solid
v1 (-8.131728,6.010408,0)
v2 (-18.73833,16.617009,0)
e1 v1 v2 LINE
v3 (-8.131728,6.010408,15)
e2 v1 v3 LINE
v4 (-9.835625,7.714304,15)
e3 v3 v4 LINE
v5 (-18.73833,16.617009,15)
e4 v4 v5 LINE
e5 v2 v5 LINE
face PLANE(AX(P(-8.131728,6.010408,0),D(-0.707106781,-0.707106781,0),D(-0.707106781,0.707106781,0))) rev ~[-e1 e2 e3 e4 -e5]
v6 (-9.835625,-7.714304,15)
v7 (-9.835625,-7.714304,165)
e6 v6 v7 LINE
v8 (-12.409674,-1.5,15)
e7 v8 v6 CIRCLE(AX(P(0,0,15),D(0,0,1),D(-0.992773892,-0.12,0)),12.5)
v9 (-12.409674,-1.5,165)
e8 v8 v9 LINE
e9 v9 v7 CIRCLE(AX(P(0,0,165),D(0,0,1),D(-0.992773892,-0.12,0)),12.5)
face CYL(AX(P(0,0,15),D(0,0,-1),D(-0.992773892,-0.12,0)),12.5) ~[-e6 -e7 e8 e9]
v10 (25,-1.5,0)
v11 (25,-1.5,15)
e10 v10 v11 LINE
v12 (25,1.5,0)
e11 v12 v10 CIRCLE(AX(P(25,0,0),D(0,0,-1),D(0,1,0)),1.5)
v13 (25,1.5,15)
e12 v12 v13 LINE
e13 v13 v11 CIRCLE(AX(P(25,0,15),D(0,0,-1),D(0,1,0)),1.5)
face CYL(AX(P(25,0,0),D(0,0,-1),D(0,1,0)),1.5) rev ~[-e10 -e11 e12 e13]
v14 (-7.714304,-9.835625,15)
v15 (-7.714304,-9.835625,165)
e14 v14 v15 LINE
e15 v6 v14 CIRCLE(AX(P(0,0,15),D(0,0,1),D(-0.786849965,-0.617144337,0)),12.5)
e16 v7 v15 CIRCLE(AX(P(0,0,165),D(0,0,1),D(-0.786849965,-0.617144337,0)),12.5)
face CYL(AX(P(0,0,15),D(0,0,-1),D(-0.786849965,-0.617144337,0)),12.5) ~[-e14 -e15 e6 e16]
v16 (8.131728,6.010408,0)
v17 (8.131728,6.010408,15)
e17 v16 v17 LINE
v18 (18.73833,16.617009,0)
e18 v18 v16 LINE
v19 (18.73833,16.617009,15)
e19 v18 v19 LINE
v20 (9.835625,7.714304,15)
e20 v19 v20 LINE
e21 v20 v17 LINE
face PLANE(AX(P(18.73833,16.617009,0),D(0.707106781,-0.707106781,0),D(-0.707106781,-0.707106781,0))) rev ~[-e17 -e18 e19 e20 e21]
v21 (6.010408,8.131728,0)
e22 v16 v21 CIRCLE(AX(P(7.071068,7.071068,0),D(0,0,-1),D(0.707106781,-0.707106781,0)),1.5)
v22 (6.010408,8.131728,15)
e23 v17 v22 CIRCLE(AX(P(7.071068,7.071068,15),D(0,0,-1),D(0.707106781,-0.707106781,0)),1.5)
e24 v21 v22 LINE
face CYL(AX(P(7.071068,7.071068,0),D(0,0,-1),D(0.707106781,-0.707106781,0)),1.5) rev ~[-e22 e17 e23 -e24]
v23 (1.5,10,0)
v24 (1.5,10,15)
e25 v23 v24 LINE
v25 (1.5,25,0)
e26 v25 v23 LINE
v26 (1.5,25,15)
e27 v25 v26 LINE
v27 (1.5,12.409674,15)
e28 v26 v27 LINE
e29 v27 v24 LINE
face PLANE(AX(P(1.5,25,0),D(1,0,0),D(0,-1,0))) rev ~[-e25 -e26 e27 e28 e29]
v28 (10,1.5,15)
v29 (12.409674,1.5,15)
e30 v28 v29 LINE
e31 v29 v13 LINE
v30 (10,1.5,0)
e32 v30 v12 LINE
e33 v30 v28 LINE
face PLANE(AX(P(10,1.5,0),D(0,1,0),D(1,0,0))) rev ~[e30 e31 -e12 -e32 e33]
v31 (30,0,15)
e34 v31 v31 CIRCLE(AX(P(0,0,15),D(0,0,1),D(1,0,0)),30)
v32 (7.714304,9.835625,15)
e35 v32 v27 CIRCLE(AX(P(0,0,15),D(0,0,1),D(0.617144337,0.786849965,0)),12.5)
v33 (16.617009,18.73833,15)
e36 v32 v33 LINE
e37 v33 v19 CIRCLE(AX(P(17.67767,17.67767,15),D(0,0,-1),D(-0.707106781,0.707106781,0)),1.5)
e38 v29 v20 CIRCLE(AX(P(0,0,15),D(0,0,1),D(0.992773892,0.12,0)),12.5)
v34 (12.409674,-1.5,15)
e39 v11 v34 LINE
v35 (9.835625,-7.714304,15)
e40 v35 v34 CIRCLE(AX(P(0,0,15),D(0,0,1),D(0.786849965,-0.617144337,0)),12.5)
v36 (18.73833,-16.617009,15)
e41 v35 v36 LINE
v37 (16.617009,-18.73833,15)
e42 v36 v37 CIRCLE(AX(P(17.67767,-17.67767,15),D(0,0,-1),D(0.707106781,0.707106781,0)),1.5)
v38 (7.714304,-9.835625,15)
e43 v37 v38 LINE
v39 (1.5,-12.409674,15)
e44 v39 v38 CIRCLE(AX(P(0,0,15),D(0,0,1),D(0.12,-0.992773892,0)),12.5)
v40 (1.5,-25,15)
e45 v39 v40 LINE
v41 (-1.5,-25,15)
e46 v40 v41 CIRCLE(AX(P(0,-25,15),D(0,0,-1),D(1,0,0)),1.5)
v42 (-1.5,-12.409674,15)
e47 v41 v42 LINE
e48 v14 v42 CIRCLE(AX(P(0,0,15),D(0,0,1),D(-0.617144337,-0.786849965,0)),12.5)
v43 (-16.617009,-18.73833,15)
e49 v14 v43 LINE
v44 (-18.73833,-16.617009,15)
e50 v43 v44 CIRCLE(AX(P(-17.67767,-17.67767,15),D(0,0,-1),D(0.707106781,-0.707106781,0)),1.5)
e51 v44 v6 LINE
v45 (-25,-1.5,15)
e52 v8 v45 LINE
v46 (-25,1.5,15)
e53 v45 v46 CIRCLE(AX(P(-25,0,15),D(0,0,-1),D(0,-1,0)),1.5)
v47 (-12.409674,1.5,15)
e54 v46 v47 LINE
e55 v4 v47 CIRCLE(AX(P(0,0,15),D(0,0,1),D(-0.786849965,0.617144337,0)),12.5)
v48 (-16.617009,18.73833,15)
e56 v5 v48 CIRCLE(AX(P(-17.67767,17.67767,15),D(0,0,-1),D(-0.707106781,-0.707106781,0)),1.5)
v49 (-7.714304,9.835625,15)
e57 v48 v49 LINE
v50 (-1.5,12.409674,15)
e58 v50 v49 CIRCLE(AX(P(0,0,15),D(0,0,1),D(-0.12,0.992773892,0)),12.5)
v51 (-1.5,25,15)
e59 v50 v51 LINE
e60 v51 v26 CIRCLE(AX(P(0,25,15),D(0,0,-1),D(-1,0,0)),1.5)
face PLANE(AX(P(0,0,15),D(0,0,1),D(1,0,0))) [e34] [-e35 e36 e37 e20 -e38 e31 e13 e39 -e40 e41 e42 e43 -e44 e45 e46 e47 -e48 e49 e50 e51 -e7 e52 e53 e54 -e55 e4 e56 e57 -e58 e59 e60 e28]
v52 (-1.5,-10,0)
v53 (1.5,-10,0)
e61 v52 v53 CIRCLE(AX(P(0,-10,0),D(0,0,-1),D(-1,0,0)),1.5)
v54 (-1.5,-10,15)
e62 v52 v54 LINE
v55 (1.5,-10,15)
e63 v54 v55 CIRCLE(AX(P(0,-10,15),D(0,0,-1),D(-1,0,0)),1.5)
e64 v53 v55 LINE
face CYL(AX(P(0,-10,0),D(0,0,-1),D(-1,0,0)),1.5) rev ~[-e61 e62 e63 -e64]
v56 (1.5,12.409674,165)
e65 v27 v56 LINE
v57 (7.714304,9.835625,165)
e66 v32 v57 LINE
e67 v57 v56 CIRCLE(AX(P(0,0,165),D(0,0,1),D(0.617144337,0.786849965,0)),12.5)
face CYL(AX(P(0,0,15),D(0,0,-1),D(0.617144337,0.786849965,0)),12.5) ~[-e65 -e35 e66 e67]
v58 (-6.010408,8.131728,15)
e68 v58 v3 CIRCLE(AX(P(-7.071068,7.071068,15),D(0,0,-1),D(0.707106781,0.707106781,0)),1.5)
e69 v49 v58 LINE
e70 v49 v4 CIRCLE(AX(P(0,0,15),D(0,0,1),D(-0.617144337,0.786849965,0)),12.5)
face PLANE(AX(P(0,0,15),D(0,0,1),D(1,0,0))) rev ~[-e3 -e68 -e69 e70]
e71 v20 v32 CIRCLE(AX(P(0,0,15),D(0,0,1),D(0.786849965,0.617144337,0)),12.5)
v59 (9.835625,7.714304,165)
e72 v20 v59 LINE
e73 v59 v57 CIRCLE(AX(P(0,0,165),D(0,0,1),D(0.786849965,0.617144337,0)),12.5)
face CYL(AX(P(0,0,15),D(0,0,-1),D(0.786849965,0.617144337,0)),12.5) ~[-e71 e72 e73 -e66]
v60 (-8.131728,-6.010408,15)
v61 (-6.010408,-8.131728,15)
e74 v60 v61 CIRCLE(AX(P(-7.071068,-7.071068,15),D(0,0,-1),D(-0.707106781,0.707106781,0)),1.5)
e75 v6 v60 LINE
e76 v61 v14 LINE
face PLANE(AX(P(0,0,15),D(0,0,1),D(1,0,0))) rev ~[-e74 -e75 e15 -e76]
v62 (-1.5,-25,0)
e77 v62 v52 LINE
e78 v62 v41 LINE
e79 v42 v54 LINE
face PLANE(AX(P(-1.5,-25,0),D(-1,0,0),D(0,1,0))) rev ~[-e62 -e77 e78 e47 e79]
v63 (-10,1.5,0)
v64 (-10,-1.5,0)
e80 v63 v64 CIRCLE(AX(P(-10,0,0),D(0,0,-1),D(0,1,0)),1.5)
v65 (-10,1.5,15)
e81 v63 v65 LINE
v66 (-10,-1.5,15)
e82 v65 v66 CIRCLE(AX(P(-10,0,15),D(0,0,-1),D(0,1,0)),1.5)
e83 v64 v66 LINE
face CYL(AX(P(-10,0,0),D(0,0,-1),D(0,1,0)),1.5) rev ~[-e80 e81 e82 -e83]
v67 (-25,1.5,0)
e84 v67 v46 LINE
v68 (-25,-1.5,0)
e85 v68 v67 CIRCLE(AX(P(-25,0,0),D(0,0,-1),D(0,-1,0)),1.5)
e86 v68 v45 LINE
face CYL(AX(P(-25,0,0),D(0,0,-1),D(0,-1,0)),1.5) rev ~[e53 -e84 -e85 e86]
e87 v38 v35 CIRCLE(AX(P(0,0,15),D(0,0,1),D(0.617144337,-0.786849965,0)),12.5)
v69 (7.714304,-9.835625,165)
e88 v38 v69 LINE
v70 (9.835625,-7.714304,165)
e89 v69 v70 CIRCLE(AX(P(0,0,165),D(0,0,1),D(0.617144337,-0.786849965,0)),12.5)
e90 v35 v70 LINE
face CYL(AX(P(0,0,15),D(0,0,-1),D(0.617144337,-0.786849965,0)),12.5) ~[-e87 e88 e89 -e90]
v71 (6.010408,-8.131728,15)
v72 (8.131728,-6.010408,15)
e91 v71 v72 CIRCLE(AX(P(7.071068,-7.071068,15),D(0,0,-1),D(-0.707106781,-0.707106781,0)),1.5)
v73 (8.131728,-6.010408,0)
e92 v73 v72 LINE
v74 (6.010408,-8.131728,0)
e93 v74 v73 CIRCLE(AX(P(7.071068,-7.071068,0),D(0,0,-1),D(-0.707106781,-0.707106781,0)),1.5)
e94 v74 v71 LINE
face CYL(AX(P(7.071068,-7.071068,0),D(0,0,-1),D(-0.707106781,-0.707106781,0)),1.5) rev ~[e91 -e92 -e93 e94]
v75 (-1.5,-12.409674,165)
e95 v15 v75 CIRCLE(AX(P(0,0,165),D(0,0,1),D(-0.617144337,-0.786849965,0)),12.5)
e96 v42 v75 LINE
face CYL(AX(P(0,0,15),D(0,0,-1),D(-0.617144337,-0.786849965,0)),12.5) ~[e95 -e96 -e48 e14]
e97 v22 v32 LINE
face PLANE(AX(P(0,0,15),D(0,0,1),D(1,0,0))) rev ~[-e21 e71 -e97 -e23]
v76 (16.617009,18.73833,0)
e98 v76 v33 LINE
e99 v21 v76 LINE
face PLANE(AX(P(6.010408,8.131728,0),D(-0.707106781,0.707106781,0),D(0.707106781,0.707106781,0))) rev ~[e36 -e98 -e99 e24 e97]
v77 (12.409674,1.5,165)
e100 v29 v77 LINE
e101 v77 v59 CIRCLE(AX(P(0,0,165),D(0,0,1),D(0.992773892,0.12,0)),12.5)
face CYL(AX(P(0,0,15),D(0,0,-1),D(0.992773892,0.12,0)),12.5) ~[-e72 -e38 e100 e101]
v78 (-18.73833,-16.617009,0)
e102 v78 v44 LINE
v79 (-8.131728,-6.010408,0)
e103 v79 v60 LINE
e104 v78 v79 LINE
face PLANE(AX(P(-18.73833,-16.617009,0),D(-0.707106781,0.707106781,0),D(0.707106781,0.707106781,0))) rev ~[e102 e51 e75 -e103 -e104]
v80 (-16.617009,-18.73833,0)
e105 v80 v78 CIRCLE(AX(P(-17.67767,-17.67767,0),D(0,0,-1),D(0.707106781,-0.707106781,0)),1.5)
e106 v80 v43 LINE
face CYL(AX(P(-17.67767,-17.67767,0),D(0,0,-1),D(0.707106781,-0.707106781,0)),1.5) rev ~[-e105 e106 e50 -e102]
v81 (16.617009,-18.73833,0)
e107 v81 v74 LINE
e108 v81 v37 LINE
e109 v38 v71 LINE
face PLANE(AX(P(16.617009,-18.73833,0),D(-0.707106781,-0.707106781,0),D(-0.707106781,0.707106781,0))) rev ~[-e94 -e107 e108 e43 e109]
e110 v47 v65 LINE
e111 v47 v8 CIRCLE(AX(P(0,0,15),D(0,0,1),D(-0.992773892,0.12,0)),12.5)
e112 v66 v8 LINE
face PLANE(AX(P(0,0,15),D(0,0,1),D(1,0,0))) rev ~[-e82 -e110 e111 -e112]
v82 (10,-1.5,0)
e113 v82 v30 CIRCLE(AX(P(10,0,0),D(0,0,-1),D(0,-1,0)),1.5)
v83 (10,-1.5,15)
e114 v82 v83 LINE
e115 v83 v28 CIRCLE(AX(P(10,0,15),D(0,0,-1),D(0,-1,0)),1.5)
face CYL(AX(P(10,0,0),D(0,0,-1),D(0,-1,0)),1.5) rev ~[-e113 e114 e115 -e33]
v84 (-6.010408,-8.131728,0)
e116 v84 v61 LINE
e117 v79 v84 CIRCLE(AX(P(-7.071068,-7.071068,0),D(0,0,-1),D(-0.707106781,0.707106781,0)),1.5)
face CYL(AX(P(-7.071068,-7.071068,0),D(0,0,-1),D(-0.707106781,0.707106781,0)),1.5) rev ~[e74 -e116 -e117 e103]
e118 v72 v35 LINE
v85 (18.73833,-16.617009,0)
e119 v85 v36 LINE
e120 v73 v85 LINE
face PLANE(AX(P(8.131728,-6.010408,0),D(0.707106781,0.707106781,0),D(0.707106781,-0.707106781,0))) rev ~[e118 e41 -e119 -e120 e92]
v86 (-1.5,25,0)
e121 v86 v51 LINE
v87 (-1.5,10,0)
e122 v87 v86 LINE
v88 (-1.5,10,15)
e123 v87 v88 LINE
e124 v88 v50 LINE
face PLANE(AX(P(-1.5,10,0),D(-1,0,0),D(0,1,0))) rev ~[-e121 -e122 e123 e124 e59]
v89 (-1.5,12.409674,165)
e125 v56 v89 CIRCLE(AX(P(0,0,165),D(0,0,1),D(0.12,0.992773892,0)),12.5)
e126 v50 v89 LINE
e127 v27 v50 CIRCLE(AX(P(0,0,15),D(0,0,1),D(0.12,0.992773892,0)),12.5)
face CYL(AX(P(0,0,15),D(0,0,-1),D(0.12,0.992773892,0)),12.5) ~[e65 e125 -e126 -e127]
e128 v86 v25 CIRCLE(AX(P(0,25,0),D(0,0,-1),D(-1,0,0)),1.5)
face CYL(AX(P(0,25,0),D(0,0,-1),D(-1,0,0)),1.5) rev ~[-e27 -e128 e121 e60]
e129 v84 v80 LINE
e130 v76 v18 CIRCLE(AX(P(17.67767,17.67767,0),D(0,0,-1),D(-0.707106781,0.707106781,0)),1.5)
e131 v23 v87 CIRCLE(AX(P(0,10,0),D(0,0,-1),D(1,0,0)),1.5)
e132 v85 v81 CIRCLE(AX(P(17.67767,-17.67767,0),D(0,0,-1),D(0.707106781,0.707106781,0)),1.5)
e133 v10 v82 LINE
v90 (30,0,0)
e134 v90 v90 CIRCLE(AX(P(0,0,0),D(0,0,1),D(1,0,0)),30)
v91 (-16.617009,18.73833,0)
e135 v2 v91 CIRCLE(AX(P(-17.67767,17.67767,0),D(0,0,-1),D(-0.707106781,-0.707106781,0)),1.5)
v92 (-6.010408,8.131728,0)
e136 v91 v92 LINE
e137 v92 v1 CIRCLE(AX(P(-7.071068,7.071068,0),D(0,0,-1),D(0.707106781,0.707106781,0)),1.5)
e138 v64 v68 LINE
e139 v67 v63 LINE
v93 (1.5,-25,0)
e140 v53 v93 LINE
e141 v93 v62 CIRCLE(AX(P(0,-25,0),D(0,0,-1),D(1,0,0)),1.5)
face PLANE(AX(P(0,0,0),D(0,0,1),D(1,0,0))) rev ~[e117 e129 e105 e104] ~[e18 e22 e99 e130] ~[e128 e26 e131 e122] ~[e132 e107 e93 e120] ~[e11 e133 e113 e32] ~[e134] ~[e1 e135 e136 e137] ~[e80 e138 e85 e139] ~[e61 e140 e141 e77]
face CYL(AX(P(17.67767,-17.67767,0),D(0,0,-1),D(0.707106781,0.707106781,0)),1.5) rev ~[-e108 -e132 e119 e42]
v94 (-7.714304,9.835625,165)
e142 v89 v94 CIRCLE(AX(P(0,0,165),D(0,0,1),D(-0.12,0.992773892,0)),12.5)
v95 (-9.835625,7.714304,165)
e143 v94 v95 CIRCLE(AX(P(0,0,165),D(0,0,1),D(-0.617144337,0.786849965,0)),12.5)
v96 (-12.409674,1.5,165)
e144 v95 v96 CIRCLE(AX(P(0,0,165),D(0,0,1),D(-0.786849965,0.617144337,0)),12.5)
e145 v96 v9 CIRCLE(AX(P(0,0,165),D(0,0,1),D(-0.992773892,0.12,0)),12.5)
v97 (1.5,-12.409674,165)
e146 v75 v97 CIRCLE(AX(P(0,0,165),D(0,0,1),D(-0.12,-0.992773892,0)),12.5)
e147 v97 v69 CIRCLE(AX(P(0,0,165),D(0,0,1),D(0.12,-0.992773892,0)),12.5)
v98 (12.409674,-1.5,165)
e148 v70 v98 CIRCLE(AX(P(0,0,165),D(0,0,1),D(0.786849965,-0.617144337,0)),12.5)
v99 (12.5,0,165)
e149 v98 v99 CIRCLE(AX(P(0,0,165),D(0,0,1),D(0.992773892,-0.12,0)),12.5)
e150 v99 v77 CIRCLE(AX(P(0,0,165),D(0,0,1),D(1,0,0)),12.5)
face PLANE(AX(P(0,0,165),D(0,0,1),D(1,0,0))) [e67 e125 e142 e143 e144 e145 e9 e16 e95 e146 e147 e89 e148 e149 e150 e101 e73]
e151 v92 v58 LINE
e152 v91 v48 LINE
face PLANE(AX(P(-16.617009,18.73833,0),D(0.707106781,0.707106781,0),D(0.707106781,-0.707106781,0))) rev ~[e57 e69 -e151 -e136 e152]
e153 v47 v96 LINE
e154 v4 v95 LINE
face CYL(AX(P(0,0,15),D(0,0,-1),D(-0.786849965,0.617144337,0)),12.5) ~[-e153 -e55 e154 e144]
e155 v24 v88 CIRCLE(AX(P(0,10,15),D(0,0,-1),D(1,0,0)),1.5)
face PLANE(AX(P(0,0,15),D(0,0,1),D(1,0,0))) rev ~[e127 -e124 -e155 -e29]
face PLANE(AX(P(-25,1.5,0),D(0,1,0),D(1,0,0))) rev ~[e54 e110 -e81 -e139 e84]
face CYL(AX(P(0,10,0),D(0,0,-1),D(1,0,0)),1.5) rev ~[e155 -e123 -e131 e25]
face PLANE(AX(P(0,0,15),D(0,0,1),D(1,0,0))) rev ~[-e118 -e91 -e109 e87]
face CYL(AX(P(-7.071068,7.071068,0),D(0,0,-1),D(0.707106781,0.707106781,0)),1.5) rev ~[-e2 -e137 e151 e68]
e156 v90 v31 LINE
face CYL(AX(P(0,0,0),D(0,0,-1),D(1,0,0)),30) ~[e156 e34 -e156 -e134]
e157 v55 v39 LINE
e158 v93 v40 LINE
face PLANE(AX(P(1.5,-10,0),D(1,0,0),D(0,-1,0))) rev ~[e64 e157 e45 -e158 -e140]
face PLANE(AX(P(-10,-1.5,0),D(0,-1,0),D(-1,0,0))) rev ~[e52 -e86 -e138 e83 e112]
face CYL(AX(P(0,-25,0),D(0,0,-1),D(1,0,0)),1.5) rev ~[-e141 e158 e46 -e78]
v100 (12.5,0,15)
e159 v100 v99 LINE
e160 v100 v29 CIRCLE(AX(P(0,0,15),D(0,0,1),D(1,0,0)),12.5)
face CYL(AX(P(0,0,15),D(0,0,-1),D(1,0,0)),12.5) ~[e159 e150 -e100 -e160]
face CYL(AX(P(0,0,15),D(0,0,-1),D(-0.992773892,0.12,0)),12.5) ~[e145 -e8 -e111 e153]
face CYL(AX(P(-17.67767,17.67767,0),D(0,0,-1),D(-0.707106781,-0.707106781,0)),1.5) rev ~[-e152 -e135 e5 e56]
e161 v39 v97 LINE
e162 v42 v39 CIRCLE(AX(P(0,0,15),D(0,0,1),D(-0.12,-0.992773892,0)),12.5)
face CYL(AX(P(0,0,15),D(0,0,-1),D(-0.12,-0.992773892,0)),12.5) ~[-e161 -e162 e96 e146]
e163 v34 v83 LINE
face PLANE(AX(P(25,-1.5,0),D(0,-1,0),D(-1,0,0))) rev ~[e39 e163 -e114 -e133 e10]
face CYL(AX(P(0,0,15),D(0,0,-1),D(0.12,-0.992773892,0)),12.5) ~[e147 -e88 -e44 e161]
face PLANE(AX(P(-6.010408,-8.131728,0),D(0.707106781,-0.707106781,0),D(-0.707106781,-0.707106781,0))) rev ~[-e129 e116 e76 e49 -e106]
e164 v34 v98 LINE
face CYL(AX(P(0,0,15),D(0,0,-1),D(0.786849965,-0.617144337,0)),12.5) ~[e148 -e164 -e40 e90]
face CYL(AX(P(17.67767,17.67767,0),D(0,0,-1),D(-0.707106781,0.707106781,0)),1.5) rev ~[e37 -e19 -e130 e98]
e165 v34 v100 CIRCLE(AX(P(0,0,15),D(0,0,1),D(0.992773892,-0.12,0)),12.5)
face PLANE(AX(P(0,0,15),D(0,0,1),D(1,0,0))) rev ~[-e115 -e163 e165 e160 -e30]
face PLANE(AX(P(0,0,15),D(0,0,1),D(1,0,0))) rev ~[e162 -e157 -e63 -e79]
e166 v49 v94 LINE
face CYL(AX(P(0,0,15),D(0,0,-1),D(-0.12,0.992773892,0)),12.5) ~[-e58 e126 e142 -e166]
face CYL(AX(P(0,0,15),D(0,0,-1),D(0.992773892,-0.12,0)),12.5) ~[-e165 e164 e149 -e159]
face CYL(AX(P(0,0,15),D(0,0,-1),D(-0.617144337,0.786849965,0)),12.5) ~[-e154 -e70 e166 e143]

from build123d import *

# Parameters (mm, degrees)
F0_R     = 30
F1_DEPTH = 15
F3_DEPTH = 150


with BuildPart() as f1:
    # F0 (on Top) → F1 (new body)
    with BuildSketch(Plane.XY):
        Circle(F0_R)
        with BuildLine():
            ThreePointArc((-16.6170093579, -18.7383297014), (-18.7383297014, -18.7383297014), (-18.7383297014, -16.6170093579))
            Line((-18.7383297014, -16.6170093579), (-8.1317279836, -6.0104076401))
            ThreePointArc((-8.1317279836, -6.0104076401), (-6.0104076401, -6.0104076401), (-6.0104076401, -8.1317279836))
            Line((-6.0104076401, -8.1317279836), (-16.6170093579, -18.7383297014))
        make_face(mode=Mode.SUBTRACT)
        with BuildLine():
            ThreePointArc((1.5, -25), (0, -26.5), (-1.5, -25))
            Line((-1.5, -25), (-1.5, -10))
            ThreePointArc((-1.5, -10), (0, -8.5), (1.5, -10))
            Line((1.5, -10), (1.5, -25))
        make_face(mode=Mode.SUBTRACT)
        with BuildLine():
            ThreePointArc((18.7383297014, -16.6170093579), (18.7383297014, -18.7383297014), (16.6170093579, -18.7383297014))
            Line((16.6170093579, -18.7383297014), (6.0104076401, -8.1317279836))
            ThreePointArc((6.0104076401, -8.1317279836), (6.0104076401, -6.0104076401), (8.1317279836, -6.0104076401))
            Line((8.1317279836, -6.0104076401), (18.7383297014, -16.6170093579))
        make_face(mode=Mode.SUBTRACT)
        with BuildLine():
            ThreePointArc((-25, -1.5), (-26.5, 0), (-25, 1.5))
            Line((-25, 1.5), (-10, 1.5))
            ThreePointArc((-10, 1.5), (-8.5, 0), (-10, -1.5))
            Line((-10, -1.5), (-25, -1.5))
        make_face(mode=Mode.SUBTRACT)
        with BuildLine():
            ThreePointArc((-18.7383297014, 16.6170093579), (-18.7383297014, 18.7383297014), (-16.6170093579, 18.7383297014))
            Line((-16.6170093579, 18.7383297014), (-6.0104076401, 8.1317279836))
            ThreePointArc((-6.0104076401, 8.1317279836), (-6.0104076401, 6.0104076401), (-8.1317279836, 6.0104076401))
            Line((-8.1317279836, 6.0104076401), (-18.7383297014, 16.6170093579))
        make_face(mode=Mode.SUBTRACT)
        with BuildLine():
            ThreePointArc((16.6170093579, 18.7383297014), (18.7383297014, 18.7383297014), (18.7383297014, 16.6170093579))
            Line((18.7383297014, 16.6170093579), (8.1317279836, 6.0104076401))
            ThreePointArc((8.1317279836, 6.0104076401), (6.0104076401, 6.0104076401), (6.0104076401, 8.1317279836))
            Line((6.0104076401, 8.1317279836), (16.6170093579, 18.7383297014))
        make_face(mode=Mode.SUBTRACT)
        with BuildLine():
            ThreePointArc((25, 1.5), (26.5, 0), (25, -1.5))
            Line((25, -1.5), (10, -1.5))
            ThreePointArc((10, -1.5), (8.5, 0), (10, 1.5))
            Line((10, 1.5), (25, 1.5))
        make_face(mode=Mode.SUBTRACT)
        with BuildLine():
            ThreePointArc((-1.5, 25), (0, 26.5), (1.5, 25))
            Line((1.5, 25), (1.5, 10))
            ThreePointArc((1.5, 10), (0, 8.5), (-1.5, 10))
            Line((-1.5, 10), (-1.5, 25))
        make_face(mode=Mode.SUBTRACT)
    extrude(amount=F1_DEPTH)

    # F2 (on face) → F3 (join)
    with BuildSketch(Plane.XY.offset(15)):
        with BuildLine():
            Line((10, 1.5), (12.409673646, 1.5))
            ThreePointArc((12.409673646, 1.5), (11.5484941564, 4.7835429046), (9.8356245592, 7.7143042156))
            Line((9.8356245592, 7.7143042156), (8.1317279836, 6.0104076401))
            ThreePointArc((8.1317279836, 6.0104076401), (6.0104076401, 6.0104076401), (6.0104076401, 8.1317279836))
            Line((6.0104076401, 8.1317279836), (7.7143042156, 9.8356245592))
            ThreePointArc((7.7143042156, 9.8356245592), (4.7835429046, 11.5484941564), (1.5, 12.409673646))
            Line((1.5, 12.409673646), (1.5, 10))
            ThreePointArc((1.5, 10), (0, 8.5), (-1.5, 10))
            Line((-1.5, 10), (-1.5, 12.409673646))
            ThreePointArc((-1.5, 12.409673646), (-4.7835429046, 11.5484941564), (-7.7143042156, 9.8356245592))
            Line((-7.7143042156, 9.8356245592), (-6.0104076401, 8.1317279836))
            ThreePointArc((-6.0104076401, 8.1317279836), (-6.0104076401, 6.0104076401), (-8.1317279836, 6.0104076401))
            Line((-8.1317279836, 6.0104076401), (-9.8356245592, 7.7143042156))
            ThreePointArc((-9.8356245592, 7.7143042156), (-11.5484941564, 4.7835429046), (-12.409673646, 1.5))
            Line((-12.409673646, 1.5), (-10, 1.5))
            ThreePointArc((-10, 1.5), (-8.5, 0), (-10, -1.5))
            Line((-10, -1.5), (-12.409673646, -1.5))
            ThreePointArc((-12.409673646, -1.5), (-11.5484941564, -4.7835429046), (-9.8356245592, -7.7143042156))
            Line((-9.8356245592, -7.7143042156), (-8.1317279836, -6.0104076401))
            ThreePointArc((-8.1317279836, -6.0104076401), (-6.0104076401, -6.0104076401), (-6.0104076401, -8.1317279836))
            Line((-6.0104076401, -8.1317279836), (-7.7143042156, -9.8356245592))
            ThreePointArc((-7.7143042156, -9.8356245592), (-4.7835429046, -11.5484941564), (-1.5, -12.409673646))
            Line((-1.5, -12.409673646), (-1.5, -10))
            ThreePointArc((-1.5, -10), (0, -8.5), (1.5, -10))
            Line((1.5, -10), (1.5, -12.409673646))
            ThreePointArc((1.5, -12.409673646), (4.7835429046, -11.5484941564), (7.7143042156, -9.8356245592))
            Line((7.7143042156, -9.8356245592), (6.0104076401, -8.1317279836))
            ThreePointArc((6.0104076401, -8.1317279836), (6.0104076401, -6.0104076401), (8.1317279836, -6.0104076401))
            Line((8.1317279836, -6.0104076401), (9.8356245592, -7.7143042156))
            ThreePointArc((9.8356245592, -7.7143042156), (11.5484941564, -4.7835429046), (12.409673646, -1.5))
            Line((12.409673646, -1.5), (10, -1.5))
            ThreePointArc((10, -1.5), (8.5, 0), (10, 1.5))
        make_face()
        with BuildLine():
            Line((-10, 1.5), (-12.409673646, 1.5))
            ThreePointArc((-12.409673646, 1.5), (-12.5, 0), (-12.409673646, -1.5))
            Line((-12.409673646, -1.5), (-10, -1.5))
            ThreePointArc((-10, -1.5), (-8.5, 0), (-10, 1.5))
        make_face()
        with BuildLine():
            Line((-6.0104076401, 8.1317279836), (-7.7143042156, 9.8356245592))
            ThreePointArc((-7.7143042156, 9.8356245592), (-8.8388347648, 8.8388347648), (-9.8356245592, 7.7143042156))
            Line((-9.8356245592, 7.7143042156), (-8.1317279836, 6.0104076401))
            ThreePointArc((-8.1317279836, 6.0104076401), (-6.0104076401, 6.0104076401), (-6.0104076401, 8.1317279836))
        make_face()
        with BuildLine():
            Line((1.5, 10), (1.5, 12.409673646))
            ThreePointArc((1.5, 12.409673646), (0, 12.5), (-1.5, 12.409673646))
            Line((-1.5, 12.409673646), (-1.5, 10))
            ThreePointArc((-1.5, 10), (0, 8.5), (1.5, 10))
        make_face()
        with BuildLine():
            Line((8.1317279836, 6.0104076401), (9.8356245592, 7.7143042156))
            ThreePointArc((9.8356245592, 7.7143042156), (8.8388347648, 8.8388347648), (7.7143042156, 9.8356245592))
            Line((7.7143042156, 9.8356245592), (6.0104076401, 8.1317279836))
            ThreePointArc((6.0104076401, 8.1317279836), (6.0104076401, 6.0104076401), (8.1317279836, 6.0104076401))
        make_face()
        with BuildLine():
            ThreePointArc((12.409673646, -1.5), (12.4773979774, -0.7513585779), (12.5, 0))
            ThreePointArc((12.5, 0), (12.4773979774, 0.7513585779), (12.409673646, 1.5))
            Line((12.409673646, 1.5), (10, 1.5))
            ThreePointArc((10, 1.5), (8.5, 0), (10, -1.5))
            Line((10, -1.5), (12.409673646, -1.5))
        make_face()
        with BuildLine():
            ThreePointArc((7.7143042156, -9.8356245592), (8.8388347648, -8.8388347648), (9.8356245592, -7.7143042156))
            Line((9.8356245592, -7.7143042156), (8.1317279836, -6.0104076401))
            ThreePointArc((8.1317279836, -6.0104076401), (6.0104076401, -6.0104076401), (6.0104076401, -8.1317279836))
            Line((6.0104076401, -8.1317279836), (7.7143042156, -9.8356245592))
        make_face()
        with BuildLine():
            ThreePointArc((-1.5, -12.409673646), (0, -12.5), (1.5, -12.409673646))
            Line((1.5, -12.409673646), (1.5, -10))
            ThreePointArc((1.5, -10), (0, -8.5), (-1.5, -10))
            Line((-1.5, -10), (-1.5, -12.409673646))
        make_face()
        with BuildLine():
            ThreePointArc((-9.8356245592, -7.7143042156), (-8.8388347648, -8.8388347648), (-7.7143042156, -9.8356245592))
            Line((-7.7143042156, -9.8356245592), (-6.0104076401, -8.1317279836))
            ThreePointArc((-6.0104076401, -8.1317279836), (-6.0104076401, -6.0104076401), (-8.1317279836, -6.0104076401))
            Line((-8.1317279836, -6.0104076401), (-9.8356245592, -7.7143042156))
        make_face()
    extrude(amount=F3_DEPTH)


solid = f1.part
